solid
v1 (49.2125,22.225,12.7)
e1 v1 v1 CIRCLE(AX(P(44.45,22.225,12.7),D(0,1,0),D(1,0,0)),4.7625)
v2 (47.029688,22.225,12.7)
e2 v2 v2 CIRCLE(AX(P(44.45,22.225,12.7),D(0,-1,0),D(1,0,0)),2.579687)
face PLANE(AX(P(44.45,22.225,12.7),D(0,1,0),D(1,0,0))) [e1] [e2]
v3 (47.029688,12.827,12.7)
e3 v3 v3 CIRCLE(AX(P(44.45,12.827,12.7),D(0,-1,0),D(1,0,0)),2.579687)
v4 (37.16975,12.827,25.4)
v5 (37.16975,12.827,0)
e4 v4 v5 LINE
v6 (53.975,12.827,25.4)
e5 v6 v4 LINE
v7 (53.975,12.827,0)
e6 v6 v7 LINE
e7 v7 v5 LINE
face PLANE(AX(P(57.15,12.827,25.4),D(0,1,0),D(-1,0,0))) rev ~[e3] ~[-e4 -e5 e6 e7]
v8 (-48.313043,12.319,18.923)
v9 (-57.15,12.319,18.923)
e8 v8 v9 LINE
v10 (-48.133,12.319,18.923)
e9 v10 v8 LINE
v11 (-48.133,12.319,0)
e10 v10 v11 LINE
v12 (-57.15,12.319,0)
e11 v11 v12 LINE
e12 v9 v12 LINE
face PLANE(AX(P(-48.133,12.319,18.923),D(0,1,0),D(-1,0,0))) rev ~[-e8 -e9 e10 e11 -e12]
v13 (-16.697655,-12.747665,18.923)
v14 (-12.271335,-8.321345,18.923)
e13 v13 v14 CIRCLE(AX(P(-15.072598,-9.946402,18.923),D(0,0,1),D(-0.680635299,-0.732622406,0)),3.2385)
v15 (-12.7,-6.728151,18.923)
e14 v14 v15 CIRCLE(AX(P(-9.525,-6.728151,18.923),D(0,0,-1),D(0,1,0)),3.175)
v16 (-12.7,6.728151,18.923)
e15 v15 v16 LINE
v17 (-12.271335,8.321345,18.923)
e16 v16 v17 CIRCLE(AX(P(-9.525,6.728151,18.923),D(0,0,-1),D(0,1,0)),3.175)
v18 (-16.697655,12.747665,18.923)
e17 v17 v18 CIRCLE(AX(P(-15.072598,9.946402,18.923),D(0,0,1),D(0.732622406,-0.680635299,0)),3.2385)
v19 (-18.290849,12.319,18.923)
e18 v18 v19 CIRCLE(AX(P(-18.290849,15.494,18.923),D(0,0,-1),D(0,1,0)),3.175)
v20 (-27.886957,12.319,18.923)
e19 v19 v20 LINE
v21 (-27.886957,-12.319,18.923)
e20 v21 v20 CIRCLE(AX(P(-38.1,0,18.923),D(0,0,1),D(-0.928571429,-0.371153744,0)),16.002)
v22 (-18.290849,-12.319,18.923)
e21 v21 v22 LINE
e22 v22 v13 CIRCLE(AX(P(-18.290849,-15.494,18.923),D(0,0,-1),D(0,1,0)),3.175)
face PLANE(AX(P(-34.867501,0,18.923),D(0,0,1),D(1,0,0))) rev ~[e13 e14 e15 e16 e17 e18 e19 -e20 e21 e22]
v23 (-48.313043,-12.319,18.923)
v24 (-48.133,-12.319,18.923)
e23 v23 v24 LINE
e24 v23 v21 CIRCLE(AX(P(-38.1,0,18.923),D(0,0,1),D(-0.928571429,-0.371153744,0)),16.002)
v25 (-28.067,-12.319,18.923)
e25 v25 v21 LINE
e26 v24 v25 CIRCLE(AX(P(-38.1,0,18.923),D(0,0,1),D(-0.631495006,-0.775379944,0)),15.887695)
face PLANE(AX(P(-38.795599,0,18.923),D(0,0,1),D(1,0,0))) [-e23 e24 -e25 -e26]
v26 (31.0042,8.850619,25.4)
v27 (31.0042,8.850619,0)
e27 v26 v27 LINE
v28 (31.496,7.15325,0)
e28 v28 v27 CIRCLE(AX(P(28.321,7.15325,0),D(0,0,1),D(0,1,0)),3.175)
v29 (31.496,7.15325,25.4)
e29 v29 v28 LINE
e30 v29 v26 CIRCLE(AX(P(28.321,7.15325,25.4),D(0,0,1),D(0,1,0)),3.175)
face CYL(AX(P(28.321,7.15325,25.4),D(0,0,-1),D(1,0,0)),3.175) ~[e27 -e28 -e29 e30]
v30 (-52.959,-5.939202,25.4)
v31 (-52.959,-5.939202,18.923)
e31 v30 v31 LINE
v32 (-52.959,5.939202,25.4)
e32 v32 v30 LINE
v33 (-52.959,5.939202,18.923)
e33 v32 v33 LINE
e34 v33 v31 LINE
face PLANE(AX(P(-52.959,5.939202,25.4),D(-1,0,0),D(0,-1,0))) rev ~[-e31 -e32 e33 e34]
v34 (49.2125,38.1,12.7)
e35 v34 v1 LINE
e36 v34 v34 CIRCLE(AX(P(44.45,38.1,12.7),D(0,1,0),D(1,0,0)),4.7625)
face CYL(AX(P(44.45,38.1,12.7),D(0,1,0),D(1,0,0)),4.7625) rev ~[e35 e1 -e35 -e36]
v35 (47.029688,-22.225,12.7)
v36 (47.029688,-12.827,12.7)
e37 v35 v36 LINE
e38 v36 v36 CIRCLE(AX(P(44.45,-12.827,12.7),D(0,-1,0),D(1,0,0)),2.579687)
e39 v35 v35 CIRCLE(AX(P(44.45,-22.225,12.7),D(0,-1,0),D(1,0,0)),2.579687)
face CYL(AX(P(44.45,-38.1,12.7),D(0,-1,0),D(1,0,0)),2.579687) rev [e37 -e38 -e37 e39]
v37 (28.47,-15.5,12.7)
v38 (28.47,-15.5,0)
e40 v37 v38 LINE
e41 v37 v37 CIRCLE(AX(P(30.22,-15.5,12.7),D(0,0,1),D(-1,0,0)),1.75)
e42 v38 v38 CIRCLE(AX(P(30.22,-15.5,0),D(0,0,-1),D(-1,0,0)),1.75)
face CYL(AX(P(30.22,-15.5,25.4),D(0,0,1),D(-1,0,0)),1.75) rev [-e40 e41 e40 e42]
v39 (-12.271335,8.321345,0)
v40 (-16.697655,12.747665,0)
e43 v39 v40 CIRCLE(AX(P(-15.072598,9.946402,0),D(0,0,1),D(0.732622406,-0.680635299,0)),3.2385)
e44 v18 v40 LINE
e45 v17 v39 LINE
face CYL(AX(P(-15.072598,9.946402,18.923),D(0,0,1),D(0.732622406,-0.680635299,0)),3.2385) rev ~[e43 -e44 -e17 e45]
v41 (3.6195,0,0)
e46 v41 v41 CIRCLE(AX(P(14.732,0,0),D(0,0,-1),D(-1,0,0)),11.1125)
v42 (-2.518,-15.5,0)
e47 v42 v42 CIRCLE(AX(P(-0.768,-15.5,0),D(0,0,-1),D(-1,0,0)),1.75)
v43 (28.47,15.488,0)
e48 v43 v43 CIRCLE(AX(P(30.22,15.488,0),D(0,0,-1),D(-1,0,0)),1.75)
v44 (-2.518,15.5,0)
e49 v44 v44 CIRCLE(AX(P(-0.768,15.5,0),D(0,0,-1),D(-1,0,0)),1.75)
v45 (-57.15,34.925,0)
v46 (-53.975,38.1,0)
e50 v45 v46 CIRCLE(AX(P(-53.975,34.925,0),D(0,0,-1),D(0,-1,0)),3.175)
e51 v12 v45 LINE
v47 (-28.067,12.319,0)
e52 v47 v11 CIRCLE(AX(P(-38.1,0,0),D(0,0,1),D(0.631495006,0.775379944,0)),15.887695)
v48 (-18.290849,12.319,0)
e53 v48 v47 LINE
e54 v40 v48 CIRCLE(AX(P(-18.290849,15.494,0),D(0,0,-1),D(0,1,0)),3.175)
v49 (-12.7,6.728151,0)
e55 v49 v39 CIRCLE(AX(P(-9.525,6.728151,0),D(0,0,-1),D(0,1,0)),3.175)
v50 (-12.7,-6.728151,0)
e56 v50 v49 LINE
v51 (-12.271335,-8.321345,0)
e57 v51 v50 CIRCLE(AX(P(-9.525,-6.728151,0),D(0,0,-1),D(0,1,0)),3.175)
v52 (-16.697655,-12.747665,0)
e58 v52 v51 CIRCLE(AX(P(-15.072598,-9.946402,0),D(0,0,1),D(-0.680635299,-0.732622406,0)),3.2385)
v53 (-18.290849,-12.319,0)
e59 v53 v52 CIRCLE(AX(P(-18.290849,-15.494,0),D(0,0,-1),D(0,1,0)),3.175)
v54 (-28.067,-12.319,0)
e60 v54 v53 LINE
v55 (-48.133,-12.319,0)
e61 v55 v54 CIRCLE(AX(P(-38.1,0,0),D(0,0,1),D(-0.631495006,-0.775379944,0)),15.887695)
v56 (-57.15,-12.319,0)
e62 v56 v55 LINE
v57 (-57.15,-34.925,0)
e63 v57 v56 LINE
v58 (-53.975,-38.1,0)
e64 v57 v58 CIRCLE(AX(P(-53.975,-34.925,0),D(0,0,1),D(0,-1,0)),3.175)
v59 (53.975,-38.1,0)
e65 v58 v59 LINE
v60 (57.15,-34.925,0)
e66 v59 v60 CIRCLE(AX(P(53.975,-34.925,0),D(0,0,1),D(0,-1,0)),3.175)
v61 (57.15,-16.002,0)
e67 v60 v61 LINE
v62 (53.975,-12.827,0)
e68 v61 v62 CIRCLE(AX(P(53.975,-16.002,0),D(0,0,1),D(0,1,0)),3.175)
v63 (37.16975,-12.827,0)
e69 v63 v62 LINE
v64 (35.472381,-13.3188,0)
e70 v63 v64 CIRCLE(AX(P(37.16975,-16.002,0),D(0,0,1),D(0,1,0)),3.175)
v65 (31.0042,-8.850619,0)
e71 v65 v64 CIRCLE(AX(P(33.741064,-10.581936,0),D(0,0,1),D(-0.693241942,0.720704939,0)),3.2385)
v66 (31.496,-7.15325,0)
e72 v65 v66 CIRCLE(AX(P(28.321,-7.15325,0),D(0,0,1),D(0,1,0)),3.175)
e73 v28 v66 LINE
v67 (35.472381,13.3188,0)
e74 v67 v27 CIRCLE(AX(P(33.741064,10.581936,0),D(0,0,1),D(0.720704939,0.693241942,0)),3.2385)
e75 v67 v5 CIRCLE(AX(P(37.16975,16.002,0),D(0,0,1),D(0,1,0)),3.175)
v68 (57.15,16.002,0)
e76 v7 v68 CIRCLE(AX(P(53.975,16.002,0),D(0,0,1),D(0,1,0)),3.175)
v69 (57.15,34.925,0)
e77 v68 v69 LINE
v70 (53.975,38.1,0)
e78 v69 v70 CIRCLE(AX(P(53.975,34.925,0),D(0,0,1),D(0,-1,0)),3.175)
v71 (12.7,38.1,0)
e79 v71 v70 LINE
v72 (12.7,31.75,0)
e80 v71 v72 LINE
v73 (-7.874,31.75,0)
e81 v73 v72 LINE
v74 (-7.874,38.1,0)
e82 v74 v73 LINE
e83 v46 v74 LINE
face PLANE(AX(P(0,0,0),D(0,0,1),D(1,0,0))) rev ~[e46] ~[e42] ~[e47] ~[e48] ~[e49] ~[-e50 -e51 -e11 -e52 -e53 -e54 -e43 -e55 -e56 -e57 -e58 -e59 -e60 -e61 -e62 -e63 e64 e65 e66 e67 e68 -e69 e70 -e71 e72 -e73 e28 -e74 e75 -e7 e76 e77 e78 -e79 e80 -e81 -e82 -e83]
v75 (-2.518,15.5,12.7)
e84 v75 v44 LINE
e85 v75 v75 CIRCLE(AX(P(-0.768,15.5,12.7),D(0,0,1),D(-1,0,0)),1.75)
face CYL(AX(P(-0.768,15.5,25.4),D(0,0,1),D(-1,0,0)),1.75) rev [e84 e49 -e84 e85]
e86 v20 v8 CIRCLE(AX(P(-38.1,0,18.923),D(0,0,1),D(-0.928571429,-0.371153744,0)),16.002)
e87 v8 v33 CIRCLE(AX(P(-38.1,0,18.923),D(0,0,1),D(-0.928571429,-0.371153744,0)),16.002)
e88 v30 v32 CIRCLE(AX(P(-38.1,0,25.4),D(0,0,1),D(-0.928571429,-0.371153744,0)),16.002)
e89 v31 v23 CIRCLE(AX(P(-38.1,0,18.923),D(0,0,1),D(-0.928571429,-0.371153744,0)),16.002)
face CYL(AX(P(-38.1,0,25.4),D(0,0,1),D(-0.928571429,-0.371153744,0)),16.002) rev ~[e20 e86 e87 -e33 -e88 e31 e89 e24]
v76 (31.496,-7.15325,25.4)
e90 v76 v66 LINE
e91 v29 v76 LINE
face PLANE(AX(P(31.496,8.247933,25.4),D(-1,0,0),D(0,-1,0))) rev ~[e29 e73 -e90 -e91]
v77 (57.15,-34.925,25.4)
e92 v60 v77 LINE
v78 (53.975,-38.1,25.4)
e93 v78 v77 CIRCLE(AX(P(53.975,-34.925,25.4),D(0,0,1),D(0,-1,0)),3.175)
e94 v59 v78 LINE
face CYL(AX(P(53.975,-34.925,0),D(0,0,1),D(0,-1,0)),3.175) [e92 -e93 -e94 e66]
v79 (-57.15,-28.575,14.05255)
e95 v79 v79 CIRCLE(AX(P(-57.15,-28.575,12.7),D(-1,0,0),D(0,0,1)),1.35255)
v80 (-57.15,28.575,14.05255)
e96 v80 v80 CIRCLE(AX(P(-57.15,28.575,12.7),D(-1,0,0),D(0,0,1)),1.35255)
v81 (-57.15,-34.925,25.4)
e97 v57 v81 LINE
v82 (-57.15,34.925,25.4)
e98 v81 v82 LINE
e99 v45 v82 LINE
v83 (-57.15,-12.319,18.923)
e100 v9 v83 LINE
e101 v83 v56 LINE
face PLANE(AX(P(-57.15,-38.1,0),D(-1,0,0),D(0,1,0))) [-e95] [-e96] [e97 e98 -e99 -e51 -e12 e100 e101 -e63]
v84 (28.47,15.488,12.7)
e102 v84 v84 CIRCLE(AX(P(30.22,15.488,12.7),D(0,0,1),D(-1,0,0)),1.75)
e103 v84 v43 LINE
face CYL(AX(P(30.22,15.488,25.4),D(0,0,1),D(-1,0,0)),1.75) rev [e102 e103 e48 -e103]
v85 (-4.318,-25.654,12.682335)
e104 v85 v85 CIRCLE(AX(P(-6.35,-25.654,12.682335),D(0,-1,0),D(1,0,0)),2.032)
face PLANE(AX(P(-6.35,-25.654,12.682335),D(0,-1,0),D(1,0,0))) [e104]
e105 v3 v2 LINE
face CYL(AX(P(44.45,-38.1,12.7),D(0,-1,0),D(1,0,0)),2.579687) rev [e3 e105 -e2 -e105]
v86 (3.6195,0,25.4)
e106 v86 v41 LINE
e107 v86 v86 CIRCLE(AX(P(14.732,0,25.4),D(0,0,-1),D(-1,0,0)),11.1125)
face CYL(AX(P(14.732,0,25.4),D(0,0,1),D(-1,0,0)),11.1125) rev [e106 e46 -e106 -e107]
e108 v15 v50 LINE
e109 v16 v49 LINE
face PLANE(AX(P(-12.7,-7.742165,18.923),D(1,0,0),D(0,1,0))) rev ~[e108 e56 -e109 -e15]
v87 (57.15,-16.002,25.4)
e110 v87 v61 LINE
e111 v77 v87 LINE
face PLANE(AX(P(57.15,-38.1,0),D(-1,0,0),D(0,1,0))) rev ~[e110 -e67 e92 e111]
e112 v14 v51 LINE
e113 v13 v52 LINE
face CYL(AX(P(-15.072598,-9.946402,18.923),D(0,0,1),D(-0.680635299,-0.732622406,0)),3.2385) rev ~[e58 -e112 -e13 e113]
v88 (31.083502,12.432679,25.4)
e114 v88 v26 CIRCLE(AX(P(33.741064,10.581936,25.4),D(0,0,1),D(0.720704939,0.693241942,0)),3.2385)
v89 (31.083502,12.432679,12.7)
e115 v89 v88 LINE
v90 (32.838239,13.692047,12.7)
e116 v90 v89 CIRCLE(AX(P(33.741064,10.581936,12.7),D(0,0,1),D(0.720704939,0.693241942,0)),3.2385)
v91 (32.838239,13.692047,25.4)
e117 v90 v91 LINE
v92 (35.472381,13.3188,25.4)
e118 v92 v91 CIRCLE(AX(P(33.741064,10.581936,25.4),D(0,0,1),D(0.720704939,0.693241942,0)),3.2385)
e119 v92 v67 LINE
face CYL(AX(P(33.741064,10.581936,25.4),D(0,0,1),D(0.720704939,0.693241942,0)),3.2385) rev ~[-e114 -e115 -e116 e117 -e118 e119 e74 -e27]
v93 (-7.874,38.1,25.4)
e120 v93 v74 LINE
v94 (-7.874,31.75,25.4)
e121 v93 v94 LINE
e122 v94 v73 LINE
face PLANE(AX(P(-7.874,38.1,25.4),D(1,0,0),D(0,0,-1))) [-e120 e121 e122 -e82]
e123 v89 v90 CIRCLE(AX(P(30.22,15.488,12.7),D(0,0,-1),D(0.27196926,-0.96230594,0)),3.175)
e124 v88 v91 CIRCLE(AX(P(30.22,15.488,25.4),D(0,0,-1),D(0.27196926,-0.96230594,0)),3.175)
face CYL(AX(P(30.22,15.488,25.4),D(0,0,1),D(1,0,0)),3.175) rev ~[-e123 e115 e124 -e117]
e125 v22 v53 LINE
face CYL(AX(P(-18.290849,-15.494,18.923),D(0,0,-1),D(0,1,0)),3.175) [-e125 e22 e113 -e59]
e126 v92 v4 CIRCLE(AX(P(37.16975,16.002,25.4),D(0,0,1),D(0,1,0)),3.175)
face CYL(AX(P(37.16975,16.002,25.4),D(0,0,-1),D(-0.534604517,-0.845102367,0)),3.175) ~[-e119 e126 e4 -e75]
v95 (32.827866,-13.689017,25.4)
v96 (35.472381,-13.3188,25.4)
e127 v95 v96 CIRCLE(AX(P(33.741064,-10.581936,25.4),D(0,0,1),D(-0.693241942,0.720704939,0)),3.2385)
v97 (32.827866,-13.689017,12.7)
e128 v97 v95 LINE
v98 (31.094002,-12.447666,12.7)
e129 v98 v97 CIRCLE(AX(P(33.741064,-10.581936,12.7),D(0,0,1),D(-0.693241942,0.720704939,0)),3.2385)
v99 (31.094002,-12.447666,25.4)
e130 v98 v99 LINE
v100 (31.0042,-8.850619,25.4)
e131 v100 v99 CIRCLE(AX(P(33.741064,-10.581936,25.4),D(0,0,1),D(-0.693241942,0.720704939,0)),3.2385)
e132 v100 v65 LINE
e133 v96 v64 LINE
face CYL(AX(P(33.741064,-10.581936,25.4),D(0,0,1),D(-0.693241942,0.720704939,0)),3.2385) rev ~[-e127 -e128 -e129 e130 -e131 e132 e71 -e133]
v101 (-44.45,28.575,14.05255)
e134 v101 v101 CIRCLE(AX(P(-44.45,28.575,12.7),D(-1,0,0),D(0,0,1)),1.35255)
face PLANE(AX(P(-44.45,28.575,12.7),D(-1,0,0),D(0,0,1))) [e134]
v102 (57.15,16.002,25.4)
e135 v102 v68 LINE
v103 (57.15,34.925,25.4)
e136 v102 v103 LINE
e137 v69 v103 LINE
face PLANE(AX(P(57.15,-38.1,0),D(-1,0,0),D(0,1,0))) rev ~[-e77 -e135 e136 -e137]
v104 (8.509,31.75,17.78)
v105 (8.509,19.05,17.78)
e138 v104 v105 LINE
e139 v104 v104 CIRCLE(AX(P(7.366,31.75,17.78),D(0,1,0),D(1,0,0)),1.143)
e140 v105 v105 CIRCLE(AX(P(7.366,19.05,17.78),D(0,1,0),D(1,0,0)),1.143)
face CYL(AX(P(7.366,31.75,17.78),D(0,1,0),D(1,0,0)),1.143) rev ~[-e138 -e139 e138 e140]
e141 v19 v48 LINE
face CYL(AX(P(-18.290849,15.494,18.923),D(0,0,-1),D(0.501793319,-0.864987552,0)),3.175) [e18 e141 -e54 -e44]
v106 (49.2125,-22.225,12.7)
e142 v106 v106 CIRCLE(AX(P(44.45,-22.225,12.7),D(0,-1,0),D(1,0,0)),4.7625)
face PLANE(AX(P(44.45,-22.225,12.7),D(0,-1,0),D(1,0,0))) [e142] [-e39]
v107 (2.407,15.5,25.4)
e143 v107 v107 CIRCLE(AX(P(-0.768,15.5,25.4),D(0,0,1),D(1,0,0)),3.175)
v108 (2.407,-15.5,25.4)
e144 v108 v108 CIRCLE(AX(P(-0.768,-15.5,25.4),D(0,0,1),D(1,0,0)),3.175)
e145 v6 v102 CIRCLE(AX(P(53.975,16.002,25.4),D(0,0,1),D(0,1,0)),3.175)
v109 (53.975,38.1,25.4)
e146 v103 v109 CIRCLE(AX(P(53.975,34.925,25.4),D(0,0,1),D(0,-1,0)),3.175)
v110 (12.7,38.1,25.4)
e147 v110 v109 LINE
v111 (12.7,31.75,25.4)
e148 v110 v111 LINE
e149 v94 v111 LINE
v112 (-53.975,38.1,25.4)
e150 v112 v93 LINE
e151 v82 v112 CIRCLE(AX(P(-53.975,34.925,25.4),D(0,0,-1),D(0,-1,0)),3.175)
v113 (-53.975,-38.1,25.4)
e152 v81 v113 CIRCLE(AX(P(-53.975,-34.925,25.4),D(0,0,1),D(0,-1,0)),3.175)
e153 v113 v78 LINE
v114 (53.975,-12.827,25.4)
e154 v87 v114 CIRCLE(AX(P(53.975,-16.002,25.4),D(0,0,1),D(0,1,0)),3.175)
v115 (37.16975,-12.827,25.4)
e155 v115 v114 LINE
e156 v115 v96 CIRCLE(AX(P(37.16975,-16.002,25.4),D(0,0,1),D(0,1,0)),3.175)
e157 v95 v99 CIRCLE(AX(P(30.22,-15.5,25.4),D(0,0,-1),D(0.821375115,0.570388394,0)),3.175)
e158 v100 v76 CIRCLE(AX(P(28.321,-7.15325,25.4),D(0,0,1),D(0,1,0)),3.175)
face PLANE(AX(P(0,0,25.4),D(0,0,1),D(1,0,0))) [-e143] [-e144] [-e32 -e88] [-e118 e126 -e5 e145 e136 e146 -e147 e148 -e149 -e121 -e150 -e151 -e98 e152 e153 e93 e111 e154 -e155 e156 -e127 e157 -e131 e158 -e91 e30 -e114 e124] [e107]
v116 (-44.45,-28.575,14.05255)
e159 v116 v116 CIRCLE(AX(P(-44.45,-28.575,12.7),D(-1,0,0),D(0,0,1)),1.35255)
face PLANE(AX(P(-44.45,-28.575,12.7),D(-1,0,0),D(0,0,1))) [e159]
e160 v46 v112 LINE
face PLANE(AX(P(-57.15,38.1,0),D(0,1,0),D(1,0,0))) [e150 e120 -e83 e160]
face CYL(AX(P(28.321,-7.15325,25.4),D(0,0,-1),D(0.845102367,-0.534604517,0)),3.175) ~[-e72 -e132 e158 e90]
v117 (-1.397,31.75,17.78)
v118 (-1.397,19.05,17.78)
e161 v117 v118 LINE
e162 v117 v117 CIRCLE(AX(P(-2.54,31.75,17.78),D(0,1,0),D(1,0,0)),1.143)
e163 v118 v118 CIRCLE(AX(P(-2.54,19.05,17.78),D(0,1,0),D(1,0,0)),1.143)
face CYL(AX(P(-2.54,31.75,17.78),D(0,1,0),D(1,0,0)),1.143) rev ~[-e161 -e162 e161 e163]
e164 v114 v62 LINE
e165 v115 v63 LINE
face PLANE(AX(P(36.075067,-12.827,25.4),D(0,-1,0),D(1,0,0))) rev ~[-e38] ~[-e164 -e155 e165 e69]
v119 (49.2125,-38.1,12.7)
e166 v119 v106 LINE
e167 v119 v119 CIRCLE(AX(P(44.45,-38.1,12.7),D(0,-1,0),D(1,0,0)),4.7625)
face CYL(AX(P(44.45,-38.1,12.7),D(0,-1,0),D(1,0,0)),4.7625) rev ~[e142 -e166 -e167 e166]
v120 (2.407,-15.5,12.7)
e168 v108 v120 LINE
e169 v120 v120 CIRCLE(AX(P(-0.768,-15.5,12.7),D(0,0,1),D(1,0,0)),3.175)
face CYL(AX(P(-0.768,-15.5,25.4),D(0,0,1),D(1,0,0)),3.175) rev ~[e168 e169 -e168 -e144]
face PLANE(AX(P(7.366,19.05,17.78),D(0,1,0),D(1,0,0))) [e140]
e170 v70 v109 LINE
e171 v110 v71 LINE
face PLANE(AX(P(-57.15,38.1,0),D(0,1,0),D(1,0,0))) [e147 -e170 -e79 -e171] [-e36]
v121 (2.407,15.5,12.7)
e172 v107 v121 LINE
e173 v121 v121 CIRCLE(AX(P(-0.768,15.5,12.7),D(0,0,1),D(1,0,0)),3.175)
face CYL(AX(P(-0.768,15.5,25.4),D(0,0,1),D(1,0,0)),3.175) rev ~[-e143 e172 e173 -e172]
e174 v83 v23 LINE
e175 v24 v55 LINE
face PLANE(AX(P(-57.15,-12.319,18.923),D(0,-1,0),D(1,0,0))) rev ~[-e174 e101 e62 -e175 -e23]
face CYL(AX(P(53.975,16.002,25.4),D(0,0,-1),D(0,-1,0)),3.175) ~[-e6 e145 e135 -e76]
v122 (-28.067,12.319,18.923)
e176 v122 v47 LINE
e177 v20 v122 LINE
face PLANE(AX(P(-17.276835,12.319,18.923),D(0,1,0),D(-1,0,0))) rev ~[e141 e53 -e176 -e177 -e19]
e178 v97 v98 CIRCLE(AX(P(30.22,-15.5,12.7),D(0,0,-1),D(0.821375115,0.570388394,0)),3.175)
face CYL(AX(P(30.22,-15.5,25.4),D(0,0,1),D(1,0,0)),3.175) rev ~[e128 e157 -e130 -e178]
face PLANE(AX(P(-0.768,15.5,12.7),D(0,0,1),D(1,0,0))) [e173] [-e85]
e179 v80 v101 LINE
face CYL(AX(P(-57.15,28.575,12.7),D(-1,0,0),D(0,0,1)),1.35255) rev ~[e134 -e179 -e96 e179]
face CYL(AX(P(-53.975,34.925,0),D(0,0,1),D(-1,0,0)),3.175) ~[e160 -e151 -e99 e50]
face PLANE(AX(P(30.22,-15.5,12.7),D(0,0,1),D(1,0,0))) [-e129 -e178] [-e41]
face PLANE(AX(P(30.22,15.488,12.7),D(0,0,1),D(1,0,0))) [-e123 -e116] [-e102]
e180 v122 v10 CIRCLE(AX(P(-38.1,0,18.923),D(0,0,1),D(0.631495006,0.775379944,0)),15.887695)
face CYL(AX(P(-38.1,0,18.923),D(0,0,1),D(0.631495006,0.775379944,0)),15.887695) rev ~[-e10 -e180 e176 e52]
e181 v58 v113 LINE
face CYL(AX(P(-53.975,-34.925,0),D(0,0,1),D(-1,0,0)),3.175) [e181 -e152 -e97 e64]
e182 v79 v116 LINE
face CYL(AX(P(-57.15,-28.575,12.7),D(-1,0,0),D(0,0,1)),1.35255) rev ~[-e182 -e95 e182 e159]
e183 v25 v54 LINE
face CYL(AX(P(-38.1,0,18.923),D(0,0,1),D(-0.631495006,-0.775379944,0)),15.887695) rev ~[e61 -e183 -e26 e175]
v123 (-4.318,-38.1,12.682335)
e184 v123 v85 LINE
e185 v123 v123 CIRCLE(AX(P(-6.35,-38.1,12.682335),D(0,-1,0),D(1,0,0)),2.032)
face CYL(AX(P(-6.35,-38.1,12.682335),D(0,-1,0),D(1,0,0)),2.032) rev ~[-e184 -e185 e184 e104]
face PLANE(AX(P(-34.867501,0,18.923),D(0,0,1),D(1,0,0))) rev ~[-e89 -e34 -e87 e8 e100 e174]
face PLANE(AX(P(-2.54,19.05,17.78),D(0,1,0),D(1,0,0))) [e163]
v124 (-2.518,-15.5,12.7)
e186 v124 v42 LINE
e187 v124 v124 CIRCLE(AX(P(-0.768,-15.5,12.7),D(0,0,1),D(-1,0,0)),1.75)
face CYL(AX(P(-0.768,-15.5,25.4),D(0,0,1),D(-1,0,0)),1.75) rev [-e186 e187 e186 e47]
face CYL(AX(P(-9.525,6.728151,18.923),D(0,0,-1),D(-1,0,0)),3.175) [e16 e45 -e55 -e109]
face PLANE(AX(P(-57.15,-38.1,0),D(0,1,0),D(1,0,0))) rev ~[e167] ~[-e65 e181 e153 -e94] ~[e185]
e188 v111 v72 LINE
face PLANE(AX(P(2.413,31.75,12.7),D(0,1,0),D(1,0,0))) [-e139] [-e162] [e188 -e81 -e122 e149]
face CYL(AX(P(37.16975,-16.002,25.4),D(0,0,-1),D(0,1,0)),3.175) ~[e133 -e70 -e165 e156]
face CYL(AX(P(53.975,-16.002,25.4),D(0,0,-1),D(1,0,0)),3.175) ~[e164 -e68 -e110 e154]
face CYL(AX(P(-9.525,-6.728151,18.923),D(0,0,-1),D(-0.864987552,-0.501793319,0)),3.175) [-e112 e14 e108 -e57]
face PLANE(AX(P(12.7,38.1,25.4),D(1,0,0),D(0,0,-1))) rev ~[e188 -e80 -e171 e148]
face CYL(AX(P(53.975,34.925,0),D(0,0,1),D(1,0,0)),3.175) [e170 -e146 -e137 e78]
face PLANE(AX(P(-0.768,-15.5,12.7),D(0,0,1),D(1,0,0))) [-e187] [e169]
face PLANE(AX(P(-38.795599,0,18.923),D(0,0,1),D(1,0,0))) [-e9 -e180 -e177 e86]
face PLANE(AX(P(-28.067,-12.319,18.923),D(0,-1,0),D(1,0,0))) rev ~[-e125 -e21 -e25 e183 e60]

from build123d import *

# Parameters (mm, degrees)
SKETCH1_W           = 114.3
SKETCH1_H           = 76.2
BOSS_EXTRUDE1_DEPTH = 25.4
CUT_EXTRUDE1_DEPTH  = 6.477
CUT_EXTRUDE2_DEPTH  = 18.923
SKETCH4_W           = 20.574
SKETCH4_H           = 25.4
CUT_EXTRUDE3_DEPTH  = 6.35
CUT_EXTRUDE4_START  = -25.4
CUT_EXTRUDE4_DEPTH  = 25.4
CUT_EXTRUDE5_START  = -25.4
SKETCH6_R           = 1.75
SKETCH6_R_2         = 11.1125
CUT_EXTRUDE5_DEPTH  = 25.4
SKETCH8_R           = 3.175
CUT_EXTRUDE6_DEPTH  = 12.7
FILLET1_R           = 3.175
CUT_EXTRUDE7_START  = -76.2
SKETCH9_R           = 2.5796875
CUT_EXTRUDE7_DEPTH  = 76.2
SKETCH10_R          = 4.7625
CUT_EXTRUDE8_DEPTH  = 15.875
SKETCH11_R          = 4.7625
CUT_EXTRUDE9_DEPTH  = 15.875
FILLET2_R           = 3.175
SKETCH12_R          = 2.032
CUT_EXTRUDE10_DEPTH = 12.446
SKETCH13_R          = 1.35255
CUT_EXTRUDE11_DEPTH = 12.7
SKETCH14_R          = 1.143
CUT_EXTRUDE12_DEPTH = 12.7


with BuildPart() as part:
    # Sketch1 → Boss-Extrude1 (new body)
    with BuildSketch(Plane.XY):
        Rectangle(SKETCH1_W, SKETCH1_H)
    extrude(amount=BOSS_EXTRUDE1_DEPTH)

    # Sketch2 → Cut-Extrude1 (cut)
    with BuildSketch(Plane.XY.offset(25.4)):
        with BuildLine():
            Line((-52.959, 5.939202219), (-52.959, -5.939202219))
            ThreePointArc((-52.959, -5.939202219), (-22.098, 0), (-52.959, 5.939202219))
        make_face()
    extrude(amount=-CUT_EXTRUDE1_DEPTH, mode=Mode.SUBTRACT)

    # Sketch3 → Cut-Extrude2 (cut)
    with BuildSketch(Plane.XY.offset(18.923)):
        with BuildLine():
            Line((-17.276835078, 12.319), (-28.067, 12.319))
            ThreePointArc((-28.067, 12.319), (-38.1, 15.887694924), (-48.133, 12.319))
            Line((-48.133, 12.319), (-57.15, 12.319))
            Line((-57.15, 12.319), (-57.15, -12.319))
            Line((-57.15, -12.319), (-48.133, -12.319))
            ThreePointArc((-48.133, -12.319), (-38.1, -15.887694924), (-28.067, -12.319))
            Line((-28.067, -12.319), (-17.276835078, -12.319))
            ThreePointArc((-17.276835078, -12.319), (-12.782632352, -12.236367648), (-12.7, -7.742164922))
            Line((-12.7, -7.742164922), (-12.7, 7.742164922))
            ThreePointArc((-12.7, 7.742164922), (-12.782632352, 12.236367648), (-17.276835078, 12.319))
        make_face()
    extrude(amount=-CUT_EXTRUDE2_DEPTH, mode=Mode.SUBTRACT)

    # Sketch4 → Cut-Extrude3 (cut)
    with BuildSketch(Plane(origin=(0, 38.1, 0), x_dir=(1, 0, 0), z_dir=(0, 1, 0))):
        with Locations((2.413, -12.7)):
            Rectangle(SKETCH4_W, SKETCH4_H)
    extrude(amount=-CUT_EXTRUDE3_DEPTH, mode=Mode.SUBTRACT)

    # Sketch5 → Cut-Extrude4 (cut)
    with BuildSketch(Plane(origin=(0, 0, 0), x_dir=(-1, 0, 0), z_dir=(0, 0, -1)).offset(CUT_EXTRUDE4_START)):
        with BuildLine():
            Line((-36.075066976, -12.827), (-57.15, -12.827))
            Line((-57.15, -12.827), (-57.15, 12.827))
            Line((-57.15, 12.827), (-36.075066976, 12.827))
            ThreePointArc((-36.075066976, 12.827), (-31.451098719, 12.871901281), (-31.496, 8.247933024))
            Line((-31.496, 8.247933024), (-31.496, -8.247933024))
            ThreePointArc((-31.496, -8.247933024), (-31.451098719, -12.871901281), (-36.075066976, -12.827))
        make_face()
    extrude(amount=CUT_EXTRUDE4_DEPTH, mode=Mode.SUBTRACT)

    # Sketch6 → Cut-Extrude5 (cut)
    with BuildSketch(Plane(origin=(0, 0, 0), x_dir=(-1, 0, 0), z_dir=(0, 0, -1)).offset(CUT_EXTRUDE5_START)):
        with Locations((0.768, 15.5)):
            Circle(SKETCH6_R)
        with Locations((0.768, -15.5)):
            Circle(SKETCH6_R)
        with Locations((-14.732, 0)):
            Circle(SKETCH6_R_2)
        with Locations((-30.22, -15.5)):
            Circle(SKETCH6_R)
        with Locations((-30.22, 15.488)):
            Circle(SKETCH6_R)
    extrude(amount=CUT_EXTRUDE5_DEPTH, mode=Mode.SUBTRACT)

    # Sketch8 → Cut-Extrude6 (cut)
    with BuildSketch(Plane.XY.offset(25.4)):
        with Locations((-0.768, -15.5)):
            Circle(SKETCH8_R)
        with Locations((-0.768, 15.5)):
            Circle(SKETCH8_R)
        with Locations((30.22, -15.5)):
            Circle(SKETCH8_R)
        with Locations((30.22, 15.488)):
            Circle(SKETCH8_R)
    extrude(amount=-CUT_EXTRUDE6_DEPTH, mode=Mode.SUBTRACT)

    # Fillet1
    fillet1_edges = [part.edges().sort_by_distance(p)[0] for p in [
        (-57.15, 38.1, 12.7),
        (57.15, 38.1, 12.7),
        (57.15, -38.1, 12.7),
        (-57.15, -38.1, 12.7),
        (57.15, -12.827, 12.7),
        (57.15, 12.827, 12.7),
    ]]
    fillet(fillet1_edges, radius=FILLET1_R)

    # Sketch9 → Cut-Extrude7 (cut)
    with BuildSketch(Plane(origin=(0, 38.1, 0), x_dir=(1, 0, 0), z_dir=(0, 1, 0)).offset(CUT_EXTRUDE7_START)):
        with Locations((44.45, -12.7)):
            Circle(SKETCH9_R)
    extrude(amount=CUT_EXTRUDE7_DEPTH, mode=Mode.SUBTRACT)

    # Sketch10 → Cut-Extrude8 (cut)
    with BuildSketch(Plane(origin=(0, 38.1, 0), x_dir=(1, 0, 0), z_dir=(0, 1, 0))):
        with Locations((44.45, -12.7)):
            Circle(SKETCH10_R)
    extrude(amount=-CUT_EXTRUDE8_DEPTH, mode=Mode.SUBTRACT)

    # Sketch11 → Cut-Extrude9 (cut)
    with BuildSketch(Plane.XZ.offset(38.1)):
        with Locations((44.45, 12.7)):
            Circle(SKETCH11_R)
    extrude(amount=-CUT_EXTRUDE9_DEPTH, mode=Mode.SUBTRACT)

    # Fillet2
    fillet2_edges = [part.edges().sort_by_distance(p)[0] for p in [
        (-17.276835078, 12.319, 9.4615),
        (-12.7, 7.742164922, 9.4615),
        (-12.7, -7.742164922, 9.4615),
        (-17.276835078, -12.319, 9.4615),
        (36.075066976, 12.827, 12.7),
        (31.496, 8.247933024, 12.7),
        (31.496, -8.247933024, 12.7),
        (36.075066976, -12.827, 12.7),
    ]]
    fillet(fillet2_edges, radius=FILLET2_R)

    # Sketch12 → Cut-Extrude10 (cut)
    with BuildSketch(Plane.XZ.offset(38.1)):
        with Locations((-6.35, 12.682334878)):
            Circle(SKETCH12_R)
    extrude(amount=-CUT_EXTRUDE10_DEPTH, mode=Mode.SUBTRACT)

    # Sketch13 → Cut-Extrude11 (cut)
    with BuildSketch(Plane.ZY.offset(57.15)):
        with Locations((12.7, 28.575)):
            Circle(SKETCH13_R)
        with Locations((12.7, -28.575)):
            Circle(SKETCH13_R)
    extrude(amount=-CUT_EXTRUDE11_DEPTH, mode=Mode.SUBTRACT)

    # Sketch14 → Cut-Extrude12 (cut)
    with BuildSketch(Plane(origin=(0, 31.75, 0), x_dir=(1, 0, 0), z_dir=(0, 1, 0))):
        with Locations((-2.54, -17.78)):
            Circle(SKETCH14_R)
        with Locations((7.366, -17.78)):
            Circle(SKETCH14_R)
    extrude(amount=-CUT_EXTRUDE12_DEPTH, mode=Mode.SUBTRACT)


solid = part.part
